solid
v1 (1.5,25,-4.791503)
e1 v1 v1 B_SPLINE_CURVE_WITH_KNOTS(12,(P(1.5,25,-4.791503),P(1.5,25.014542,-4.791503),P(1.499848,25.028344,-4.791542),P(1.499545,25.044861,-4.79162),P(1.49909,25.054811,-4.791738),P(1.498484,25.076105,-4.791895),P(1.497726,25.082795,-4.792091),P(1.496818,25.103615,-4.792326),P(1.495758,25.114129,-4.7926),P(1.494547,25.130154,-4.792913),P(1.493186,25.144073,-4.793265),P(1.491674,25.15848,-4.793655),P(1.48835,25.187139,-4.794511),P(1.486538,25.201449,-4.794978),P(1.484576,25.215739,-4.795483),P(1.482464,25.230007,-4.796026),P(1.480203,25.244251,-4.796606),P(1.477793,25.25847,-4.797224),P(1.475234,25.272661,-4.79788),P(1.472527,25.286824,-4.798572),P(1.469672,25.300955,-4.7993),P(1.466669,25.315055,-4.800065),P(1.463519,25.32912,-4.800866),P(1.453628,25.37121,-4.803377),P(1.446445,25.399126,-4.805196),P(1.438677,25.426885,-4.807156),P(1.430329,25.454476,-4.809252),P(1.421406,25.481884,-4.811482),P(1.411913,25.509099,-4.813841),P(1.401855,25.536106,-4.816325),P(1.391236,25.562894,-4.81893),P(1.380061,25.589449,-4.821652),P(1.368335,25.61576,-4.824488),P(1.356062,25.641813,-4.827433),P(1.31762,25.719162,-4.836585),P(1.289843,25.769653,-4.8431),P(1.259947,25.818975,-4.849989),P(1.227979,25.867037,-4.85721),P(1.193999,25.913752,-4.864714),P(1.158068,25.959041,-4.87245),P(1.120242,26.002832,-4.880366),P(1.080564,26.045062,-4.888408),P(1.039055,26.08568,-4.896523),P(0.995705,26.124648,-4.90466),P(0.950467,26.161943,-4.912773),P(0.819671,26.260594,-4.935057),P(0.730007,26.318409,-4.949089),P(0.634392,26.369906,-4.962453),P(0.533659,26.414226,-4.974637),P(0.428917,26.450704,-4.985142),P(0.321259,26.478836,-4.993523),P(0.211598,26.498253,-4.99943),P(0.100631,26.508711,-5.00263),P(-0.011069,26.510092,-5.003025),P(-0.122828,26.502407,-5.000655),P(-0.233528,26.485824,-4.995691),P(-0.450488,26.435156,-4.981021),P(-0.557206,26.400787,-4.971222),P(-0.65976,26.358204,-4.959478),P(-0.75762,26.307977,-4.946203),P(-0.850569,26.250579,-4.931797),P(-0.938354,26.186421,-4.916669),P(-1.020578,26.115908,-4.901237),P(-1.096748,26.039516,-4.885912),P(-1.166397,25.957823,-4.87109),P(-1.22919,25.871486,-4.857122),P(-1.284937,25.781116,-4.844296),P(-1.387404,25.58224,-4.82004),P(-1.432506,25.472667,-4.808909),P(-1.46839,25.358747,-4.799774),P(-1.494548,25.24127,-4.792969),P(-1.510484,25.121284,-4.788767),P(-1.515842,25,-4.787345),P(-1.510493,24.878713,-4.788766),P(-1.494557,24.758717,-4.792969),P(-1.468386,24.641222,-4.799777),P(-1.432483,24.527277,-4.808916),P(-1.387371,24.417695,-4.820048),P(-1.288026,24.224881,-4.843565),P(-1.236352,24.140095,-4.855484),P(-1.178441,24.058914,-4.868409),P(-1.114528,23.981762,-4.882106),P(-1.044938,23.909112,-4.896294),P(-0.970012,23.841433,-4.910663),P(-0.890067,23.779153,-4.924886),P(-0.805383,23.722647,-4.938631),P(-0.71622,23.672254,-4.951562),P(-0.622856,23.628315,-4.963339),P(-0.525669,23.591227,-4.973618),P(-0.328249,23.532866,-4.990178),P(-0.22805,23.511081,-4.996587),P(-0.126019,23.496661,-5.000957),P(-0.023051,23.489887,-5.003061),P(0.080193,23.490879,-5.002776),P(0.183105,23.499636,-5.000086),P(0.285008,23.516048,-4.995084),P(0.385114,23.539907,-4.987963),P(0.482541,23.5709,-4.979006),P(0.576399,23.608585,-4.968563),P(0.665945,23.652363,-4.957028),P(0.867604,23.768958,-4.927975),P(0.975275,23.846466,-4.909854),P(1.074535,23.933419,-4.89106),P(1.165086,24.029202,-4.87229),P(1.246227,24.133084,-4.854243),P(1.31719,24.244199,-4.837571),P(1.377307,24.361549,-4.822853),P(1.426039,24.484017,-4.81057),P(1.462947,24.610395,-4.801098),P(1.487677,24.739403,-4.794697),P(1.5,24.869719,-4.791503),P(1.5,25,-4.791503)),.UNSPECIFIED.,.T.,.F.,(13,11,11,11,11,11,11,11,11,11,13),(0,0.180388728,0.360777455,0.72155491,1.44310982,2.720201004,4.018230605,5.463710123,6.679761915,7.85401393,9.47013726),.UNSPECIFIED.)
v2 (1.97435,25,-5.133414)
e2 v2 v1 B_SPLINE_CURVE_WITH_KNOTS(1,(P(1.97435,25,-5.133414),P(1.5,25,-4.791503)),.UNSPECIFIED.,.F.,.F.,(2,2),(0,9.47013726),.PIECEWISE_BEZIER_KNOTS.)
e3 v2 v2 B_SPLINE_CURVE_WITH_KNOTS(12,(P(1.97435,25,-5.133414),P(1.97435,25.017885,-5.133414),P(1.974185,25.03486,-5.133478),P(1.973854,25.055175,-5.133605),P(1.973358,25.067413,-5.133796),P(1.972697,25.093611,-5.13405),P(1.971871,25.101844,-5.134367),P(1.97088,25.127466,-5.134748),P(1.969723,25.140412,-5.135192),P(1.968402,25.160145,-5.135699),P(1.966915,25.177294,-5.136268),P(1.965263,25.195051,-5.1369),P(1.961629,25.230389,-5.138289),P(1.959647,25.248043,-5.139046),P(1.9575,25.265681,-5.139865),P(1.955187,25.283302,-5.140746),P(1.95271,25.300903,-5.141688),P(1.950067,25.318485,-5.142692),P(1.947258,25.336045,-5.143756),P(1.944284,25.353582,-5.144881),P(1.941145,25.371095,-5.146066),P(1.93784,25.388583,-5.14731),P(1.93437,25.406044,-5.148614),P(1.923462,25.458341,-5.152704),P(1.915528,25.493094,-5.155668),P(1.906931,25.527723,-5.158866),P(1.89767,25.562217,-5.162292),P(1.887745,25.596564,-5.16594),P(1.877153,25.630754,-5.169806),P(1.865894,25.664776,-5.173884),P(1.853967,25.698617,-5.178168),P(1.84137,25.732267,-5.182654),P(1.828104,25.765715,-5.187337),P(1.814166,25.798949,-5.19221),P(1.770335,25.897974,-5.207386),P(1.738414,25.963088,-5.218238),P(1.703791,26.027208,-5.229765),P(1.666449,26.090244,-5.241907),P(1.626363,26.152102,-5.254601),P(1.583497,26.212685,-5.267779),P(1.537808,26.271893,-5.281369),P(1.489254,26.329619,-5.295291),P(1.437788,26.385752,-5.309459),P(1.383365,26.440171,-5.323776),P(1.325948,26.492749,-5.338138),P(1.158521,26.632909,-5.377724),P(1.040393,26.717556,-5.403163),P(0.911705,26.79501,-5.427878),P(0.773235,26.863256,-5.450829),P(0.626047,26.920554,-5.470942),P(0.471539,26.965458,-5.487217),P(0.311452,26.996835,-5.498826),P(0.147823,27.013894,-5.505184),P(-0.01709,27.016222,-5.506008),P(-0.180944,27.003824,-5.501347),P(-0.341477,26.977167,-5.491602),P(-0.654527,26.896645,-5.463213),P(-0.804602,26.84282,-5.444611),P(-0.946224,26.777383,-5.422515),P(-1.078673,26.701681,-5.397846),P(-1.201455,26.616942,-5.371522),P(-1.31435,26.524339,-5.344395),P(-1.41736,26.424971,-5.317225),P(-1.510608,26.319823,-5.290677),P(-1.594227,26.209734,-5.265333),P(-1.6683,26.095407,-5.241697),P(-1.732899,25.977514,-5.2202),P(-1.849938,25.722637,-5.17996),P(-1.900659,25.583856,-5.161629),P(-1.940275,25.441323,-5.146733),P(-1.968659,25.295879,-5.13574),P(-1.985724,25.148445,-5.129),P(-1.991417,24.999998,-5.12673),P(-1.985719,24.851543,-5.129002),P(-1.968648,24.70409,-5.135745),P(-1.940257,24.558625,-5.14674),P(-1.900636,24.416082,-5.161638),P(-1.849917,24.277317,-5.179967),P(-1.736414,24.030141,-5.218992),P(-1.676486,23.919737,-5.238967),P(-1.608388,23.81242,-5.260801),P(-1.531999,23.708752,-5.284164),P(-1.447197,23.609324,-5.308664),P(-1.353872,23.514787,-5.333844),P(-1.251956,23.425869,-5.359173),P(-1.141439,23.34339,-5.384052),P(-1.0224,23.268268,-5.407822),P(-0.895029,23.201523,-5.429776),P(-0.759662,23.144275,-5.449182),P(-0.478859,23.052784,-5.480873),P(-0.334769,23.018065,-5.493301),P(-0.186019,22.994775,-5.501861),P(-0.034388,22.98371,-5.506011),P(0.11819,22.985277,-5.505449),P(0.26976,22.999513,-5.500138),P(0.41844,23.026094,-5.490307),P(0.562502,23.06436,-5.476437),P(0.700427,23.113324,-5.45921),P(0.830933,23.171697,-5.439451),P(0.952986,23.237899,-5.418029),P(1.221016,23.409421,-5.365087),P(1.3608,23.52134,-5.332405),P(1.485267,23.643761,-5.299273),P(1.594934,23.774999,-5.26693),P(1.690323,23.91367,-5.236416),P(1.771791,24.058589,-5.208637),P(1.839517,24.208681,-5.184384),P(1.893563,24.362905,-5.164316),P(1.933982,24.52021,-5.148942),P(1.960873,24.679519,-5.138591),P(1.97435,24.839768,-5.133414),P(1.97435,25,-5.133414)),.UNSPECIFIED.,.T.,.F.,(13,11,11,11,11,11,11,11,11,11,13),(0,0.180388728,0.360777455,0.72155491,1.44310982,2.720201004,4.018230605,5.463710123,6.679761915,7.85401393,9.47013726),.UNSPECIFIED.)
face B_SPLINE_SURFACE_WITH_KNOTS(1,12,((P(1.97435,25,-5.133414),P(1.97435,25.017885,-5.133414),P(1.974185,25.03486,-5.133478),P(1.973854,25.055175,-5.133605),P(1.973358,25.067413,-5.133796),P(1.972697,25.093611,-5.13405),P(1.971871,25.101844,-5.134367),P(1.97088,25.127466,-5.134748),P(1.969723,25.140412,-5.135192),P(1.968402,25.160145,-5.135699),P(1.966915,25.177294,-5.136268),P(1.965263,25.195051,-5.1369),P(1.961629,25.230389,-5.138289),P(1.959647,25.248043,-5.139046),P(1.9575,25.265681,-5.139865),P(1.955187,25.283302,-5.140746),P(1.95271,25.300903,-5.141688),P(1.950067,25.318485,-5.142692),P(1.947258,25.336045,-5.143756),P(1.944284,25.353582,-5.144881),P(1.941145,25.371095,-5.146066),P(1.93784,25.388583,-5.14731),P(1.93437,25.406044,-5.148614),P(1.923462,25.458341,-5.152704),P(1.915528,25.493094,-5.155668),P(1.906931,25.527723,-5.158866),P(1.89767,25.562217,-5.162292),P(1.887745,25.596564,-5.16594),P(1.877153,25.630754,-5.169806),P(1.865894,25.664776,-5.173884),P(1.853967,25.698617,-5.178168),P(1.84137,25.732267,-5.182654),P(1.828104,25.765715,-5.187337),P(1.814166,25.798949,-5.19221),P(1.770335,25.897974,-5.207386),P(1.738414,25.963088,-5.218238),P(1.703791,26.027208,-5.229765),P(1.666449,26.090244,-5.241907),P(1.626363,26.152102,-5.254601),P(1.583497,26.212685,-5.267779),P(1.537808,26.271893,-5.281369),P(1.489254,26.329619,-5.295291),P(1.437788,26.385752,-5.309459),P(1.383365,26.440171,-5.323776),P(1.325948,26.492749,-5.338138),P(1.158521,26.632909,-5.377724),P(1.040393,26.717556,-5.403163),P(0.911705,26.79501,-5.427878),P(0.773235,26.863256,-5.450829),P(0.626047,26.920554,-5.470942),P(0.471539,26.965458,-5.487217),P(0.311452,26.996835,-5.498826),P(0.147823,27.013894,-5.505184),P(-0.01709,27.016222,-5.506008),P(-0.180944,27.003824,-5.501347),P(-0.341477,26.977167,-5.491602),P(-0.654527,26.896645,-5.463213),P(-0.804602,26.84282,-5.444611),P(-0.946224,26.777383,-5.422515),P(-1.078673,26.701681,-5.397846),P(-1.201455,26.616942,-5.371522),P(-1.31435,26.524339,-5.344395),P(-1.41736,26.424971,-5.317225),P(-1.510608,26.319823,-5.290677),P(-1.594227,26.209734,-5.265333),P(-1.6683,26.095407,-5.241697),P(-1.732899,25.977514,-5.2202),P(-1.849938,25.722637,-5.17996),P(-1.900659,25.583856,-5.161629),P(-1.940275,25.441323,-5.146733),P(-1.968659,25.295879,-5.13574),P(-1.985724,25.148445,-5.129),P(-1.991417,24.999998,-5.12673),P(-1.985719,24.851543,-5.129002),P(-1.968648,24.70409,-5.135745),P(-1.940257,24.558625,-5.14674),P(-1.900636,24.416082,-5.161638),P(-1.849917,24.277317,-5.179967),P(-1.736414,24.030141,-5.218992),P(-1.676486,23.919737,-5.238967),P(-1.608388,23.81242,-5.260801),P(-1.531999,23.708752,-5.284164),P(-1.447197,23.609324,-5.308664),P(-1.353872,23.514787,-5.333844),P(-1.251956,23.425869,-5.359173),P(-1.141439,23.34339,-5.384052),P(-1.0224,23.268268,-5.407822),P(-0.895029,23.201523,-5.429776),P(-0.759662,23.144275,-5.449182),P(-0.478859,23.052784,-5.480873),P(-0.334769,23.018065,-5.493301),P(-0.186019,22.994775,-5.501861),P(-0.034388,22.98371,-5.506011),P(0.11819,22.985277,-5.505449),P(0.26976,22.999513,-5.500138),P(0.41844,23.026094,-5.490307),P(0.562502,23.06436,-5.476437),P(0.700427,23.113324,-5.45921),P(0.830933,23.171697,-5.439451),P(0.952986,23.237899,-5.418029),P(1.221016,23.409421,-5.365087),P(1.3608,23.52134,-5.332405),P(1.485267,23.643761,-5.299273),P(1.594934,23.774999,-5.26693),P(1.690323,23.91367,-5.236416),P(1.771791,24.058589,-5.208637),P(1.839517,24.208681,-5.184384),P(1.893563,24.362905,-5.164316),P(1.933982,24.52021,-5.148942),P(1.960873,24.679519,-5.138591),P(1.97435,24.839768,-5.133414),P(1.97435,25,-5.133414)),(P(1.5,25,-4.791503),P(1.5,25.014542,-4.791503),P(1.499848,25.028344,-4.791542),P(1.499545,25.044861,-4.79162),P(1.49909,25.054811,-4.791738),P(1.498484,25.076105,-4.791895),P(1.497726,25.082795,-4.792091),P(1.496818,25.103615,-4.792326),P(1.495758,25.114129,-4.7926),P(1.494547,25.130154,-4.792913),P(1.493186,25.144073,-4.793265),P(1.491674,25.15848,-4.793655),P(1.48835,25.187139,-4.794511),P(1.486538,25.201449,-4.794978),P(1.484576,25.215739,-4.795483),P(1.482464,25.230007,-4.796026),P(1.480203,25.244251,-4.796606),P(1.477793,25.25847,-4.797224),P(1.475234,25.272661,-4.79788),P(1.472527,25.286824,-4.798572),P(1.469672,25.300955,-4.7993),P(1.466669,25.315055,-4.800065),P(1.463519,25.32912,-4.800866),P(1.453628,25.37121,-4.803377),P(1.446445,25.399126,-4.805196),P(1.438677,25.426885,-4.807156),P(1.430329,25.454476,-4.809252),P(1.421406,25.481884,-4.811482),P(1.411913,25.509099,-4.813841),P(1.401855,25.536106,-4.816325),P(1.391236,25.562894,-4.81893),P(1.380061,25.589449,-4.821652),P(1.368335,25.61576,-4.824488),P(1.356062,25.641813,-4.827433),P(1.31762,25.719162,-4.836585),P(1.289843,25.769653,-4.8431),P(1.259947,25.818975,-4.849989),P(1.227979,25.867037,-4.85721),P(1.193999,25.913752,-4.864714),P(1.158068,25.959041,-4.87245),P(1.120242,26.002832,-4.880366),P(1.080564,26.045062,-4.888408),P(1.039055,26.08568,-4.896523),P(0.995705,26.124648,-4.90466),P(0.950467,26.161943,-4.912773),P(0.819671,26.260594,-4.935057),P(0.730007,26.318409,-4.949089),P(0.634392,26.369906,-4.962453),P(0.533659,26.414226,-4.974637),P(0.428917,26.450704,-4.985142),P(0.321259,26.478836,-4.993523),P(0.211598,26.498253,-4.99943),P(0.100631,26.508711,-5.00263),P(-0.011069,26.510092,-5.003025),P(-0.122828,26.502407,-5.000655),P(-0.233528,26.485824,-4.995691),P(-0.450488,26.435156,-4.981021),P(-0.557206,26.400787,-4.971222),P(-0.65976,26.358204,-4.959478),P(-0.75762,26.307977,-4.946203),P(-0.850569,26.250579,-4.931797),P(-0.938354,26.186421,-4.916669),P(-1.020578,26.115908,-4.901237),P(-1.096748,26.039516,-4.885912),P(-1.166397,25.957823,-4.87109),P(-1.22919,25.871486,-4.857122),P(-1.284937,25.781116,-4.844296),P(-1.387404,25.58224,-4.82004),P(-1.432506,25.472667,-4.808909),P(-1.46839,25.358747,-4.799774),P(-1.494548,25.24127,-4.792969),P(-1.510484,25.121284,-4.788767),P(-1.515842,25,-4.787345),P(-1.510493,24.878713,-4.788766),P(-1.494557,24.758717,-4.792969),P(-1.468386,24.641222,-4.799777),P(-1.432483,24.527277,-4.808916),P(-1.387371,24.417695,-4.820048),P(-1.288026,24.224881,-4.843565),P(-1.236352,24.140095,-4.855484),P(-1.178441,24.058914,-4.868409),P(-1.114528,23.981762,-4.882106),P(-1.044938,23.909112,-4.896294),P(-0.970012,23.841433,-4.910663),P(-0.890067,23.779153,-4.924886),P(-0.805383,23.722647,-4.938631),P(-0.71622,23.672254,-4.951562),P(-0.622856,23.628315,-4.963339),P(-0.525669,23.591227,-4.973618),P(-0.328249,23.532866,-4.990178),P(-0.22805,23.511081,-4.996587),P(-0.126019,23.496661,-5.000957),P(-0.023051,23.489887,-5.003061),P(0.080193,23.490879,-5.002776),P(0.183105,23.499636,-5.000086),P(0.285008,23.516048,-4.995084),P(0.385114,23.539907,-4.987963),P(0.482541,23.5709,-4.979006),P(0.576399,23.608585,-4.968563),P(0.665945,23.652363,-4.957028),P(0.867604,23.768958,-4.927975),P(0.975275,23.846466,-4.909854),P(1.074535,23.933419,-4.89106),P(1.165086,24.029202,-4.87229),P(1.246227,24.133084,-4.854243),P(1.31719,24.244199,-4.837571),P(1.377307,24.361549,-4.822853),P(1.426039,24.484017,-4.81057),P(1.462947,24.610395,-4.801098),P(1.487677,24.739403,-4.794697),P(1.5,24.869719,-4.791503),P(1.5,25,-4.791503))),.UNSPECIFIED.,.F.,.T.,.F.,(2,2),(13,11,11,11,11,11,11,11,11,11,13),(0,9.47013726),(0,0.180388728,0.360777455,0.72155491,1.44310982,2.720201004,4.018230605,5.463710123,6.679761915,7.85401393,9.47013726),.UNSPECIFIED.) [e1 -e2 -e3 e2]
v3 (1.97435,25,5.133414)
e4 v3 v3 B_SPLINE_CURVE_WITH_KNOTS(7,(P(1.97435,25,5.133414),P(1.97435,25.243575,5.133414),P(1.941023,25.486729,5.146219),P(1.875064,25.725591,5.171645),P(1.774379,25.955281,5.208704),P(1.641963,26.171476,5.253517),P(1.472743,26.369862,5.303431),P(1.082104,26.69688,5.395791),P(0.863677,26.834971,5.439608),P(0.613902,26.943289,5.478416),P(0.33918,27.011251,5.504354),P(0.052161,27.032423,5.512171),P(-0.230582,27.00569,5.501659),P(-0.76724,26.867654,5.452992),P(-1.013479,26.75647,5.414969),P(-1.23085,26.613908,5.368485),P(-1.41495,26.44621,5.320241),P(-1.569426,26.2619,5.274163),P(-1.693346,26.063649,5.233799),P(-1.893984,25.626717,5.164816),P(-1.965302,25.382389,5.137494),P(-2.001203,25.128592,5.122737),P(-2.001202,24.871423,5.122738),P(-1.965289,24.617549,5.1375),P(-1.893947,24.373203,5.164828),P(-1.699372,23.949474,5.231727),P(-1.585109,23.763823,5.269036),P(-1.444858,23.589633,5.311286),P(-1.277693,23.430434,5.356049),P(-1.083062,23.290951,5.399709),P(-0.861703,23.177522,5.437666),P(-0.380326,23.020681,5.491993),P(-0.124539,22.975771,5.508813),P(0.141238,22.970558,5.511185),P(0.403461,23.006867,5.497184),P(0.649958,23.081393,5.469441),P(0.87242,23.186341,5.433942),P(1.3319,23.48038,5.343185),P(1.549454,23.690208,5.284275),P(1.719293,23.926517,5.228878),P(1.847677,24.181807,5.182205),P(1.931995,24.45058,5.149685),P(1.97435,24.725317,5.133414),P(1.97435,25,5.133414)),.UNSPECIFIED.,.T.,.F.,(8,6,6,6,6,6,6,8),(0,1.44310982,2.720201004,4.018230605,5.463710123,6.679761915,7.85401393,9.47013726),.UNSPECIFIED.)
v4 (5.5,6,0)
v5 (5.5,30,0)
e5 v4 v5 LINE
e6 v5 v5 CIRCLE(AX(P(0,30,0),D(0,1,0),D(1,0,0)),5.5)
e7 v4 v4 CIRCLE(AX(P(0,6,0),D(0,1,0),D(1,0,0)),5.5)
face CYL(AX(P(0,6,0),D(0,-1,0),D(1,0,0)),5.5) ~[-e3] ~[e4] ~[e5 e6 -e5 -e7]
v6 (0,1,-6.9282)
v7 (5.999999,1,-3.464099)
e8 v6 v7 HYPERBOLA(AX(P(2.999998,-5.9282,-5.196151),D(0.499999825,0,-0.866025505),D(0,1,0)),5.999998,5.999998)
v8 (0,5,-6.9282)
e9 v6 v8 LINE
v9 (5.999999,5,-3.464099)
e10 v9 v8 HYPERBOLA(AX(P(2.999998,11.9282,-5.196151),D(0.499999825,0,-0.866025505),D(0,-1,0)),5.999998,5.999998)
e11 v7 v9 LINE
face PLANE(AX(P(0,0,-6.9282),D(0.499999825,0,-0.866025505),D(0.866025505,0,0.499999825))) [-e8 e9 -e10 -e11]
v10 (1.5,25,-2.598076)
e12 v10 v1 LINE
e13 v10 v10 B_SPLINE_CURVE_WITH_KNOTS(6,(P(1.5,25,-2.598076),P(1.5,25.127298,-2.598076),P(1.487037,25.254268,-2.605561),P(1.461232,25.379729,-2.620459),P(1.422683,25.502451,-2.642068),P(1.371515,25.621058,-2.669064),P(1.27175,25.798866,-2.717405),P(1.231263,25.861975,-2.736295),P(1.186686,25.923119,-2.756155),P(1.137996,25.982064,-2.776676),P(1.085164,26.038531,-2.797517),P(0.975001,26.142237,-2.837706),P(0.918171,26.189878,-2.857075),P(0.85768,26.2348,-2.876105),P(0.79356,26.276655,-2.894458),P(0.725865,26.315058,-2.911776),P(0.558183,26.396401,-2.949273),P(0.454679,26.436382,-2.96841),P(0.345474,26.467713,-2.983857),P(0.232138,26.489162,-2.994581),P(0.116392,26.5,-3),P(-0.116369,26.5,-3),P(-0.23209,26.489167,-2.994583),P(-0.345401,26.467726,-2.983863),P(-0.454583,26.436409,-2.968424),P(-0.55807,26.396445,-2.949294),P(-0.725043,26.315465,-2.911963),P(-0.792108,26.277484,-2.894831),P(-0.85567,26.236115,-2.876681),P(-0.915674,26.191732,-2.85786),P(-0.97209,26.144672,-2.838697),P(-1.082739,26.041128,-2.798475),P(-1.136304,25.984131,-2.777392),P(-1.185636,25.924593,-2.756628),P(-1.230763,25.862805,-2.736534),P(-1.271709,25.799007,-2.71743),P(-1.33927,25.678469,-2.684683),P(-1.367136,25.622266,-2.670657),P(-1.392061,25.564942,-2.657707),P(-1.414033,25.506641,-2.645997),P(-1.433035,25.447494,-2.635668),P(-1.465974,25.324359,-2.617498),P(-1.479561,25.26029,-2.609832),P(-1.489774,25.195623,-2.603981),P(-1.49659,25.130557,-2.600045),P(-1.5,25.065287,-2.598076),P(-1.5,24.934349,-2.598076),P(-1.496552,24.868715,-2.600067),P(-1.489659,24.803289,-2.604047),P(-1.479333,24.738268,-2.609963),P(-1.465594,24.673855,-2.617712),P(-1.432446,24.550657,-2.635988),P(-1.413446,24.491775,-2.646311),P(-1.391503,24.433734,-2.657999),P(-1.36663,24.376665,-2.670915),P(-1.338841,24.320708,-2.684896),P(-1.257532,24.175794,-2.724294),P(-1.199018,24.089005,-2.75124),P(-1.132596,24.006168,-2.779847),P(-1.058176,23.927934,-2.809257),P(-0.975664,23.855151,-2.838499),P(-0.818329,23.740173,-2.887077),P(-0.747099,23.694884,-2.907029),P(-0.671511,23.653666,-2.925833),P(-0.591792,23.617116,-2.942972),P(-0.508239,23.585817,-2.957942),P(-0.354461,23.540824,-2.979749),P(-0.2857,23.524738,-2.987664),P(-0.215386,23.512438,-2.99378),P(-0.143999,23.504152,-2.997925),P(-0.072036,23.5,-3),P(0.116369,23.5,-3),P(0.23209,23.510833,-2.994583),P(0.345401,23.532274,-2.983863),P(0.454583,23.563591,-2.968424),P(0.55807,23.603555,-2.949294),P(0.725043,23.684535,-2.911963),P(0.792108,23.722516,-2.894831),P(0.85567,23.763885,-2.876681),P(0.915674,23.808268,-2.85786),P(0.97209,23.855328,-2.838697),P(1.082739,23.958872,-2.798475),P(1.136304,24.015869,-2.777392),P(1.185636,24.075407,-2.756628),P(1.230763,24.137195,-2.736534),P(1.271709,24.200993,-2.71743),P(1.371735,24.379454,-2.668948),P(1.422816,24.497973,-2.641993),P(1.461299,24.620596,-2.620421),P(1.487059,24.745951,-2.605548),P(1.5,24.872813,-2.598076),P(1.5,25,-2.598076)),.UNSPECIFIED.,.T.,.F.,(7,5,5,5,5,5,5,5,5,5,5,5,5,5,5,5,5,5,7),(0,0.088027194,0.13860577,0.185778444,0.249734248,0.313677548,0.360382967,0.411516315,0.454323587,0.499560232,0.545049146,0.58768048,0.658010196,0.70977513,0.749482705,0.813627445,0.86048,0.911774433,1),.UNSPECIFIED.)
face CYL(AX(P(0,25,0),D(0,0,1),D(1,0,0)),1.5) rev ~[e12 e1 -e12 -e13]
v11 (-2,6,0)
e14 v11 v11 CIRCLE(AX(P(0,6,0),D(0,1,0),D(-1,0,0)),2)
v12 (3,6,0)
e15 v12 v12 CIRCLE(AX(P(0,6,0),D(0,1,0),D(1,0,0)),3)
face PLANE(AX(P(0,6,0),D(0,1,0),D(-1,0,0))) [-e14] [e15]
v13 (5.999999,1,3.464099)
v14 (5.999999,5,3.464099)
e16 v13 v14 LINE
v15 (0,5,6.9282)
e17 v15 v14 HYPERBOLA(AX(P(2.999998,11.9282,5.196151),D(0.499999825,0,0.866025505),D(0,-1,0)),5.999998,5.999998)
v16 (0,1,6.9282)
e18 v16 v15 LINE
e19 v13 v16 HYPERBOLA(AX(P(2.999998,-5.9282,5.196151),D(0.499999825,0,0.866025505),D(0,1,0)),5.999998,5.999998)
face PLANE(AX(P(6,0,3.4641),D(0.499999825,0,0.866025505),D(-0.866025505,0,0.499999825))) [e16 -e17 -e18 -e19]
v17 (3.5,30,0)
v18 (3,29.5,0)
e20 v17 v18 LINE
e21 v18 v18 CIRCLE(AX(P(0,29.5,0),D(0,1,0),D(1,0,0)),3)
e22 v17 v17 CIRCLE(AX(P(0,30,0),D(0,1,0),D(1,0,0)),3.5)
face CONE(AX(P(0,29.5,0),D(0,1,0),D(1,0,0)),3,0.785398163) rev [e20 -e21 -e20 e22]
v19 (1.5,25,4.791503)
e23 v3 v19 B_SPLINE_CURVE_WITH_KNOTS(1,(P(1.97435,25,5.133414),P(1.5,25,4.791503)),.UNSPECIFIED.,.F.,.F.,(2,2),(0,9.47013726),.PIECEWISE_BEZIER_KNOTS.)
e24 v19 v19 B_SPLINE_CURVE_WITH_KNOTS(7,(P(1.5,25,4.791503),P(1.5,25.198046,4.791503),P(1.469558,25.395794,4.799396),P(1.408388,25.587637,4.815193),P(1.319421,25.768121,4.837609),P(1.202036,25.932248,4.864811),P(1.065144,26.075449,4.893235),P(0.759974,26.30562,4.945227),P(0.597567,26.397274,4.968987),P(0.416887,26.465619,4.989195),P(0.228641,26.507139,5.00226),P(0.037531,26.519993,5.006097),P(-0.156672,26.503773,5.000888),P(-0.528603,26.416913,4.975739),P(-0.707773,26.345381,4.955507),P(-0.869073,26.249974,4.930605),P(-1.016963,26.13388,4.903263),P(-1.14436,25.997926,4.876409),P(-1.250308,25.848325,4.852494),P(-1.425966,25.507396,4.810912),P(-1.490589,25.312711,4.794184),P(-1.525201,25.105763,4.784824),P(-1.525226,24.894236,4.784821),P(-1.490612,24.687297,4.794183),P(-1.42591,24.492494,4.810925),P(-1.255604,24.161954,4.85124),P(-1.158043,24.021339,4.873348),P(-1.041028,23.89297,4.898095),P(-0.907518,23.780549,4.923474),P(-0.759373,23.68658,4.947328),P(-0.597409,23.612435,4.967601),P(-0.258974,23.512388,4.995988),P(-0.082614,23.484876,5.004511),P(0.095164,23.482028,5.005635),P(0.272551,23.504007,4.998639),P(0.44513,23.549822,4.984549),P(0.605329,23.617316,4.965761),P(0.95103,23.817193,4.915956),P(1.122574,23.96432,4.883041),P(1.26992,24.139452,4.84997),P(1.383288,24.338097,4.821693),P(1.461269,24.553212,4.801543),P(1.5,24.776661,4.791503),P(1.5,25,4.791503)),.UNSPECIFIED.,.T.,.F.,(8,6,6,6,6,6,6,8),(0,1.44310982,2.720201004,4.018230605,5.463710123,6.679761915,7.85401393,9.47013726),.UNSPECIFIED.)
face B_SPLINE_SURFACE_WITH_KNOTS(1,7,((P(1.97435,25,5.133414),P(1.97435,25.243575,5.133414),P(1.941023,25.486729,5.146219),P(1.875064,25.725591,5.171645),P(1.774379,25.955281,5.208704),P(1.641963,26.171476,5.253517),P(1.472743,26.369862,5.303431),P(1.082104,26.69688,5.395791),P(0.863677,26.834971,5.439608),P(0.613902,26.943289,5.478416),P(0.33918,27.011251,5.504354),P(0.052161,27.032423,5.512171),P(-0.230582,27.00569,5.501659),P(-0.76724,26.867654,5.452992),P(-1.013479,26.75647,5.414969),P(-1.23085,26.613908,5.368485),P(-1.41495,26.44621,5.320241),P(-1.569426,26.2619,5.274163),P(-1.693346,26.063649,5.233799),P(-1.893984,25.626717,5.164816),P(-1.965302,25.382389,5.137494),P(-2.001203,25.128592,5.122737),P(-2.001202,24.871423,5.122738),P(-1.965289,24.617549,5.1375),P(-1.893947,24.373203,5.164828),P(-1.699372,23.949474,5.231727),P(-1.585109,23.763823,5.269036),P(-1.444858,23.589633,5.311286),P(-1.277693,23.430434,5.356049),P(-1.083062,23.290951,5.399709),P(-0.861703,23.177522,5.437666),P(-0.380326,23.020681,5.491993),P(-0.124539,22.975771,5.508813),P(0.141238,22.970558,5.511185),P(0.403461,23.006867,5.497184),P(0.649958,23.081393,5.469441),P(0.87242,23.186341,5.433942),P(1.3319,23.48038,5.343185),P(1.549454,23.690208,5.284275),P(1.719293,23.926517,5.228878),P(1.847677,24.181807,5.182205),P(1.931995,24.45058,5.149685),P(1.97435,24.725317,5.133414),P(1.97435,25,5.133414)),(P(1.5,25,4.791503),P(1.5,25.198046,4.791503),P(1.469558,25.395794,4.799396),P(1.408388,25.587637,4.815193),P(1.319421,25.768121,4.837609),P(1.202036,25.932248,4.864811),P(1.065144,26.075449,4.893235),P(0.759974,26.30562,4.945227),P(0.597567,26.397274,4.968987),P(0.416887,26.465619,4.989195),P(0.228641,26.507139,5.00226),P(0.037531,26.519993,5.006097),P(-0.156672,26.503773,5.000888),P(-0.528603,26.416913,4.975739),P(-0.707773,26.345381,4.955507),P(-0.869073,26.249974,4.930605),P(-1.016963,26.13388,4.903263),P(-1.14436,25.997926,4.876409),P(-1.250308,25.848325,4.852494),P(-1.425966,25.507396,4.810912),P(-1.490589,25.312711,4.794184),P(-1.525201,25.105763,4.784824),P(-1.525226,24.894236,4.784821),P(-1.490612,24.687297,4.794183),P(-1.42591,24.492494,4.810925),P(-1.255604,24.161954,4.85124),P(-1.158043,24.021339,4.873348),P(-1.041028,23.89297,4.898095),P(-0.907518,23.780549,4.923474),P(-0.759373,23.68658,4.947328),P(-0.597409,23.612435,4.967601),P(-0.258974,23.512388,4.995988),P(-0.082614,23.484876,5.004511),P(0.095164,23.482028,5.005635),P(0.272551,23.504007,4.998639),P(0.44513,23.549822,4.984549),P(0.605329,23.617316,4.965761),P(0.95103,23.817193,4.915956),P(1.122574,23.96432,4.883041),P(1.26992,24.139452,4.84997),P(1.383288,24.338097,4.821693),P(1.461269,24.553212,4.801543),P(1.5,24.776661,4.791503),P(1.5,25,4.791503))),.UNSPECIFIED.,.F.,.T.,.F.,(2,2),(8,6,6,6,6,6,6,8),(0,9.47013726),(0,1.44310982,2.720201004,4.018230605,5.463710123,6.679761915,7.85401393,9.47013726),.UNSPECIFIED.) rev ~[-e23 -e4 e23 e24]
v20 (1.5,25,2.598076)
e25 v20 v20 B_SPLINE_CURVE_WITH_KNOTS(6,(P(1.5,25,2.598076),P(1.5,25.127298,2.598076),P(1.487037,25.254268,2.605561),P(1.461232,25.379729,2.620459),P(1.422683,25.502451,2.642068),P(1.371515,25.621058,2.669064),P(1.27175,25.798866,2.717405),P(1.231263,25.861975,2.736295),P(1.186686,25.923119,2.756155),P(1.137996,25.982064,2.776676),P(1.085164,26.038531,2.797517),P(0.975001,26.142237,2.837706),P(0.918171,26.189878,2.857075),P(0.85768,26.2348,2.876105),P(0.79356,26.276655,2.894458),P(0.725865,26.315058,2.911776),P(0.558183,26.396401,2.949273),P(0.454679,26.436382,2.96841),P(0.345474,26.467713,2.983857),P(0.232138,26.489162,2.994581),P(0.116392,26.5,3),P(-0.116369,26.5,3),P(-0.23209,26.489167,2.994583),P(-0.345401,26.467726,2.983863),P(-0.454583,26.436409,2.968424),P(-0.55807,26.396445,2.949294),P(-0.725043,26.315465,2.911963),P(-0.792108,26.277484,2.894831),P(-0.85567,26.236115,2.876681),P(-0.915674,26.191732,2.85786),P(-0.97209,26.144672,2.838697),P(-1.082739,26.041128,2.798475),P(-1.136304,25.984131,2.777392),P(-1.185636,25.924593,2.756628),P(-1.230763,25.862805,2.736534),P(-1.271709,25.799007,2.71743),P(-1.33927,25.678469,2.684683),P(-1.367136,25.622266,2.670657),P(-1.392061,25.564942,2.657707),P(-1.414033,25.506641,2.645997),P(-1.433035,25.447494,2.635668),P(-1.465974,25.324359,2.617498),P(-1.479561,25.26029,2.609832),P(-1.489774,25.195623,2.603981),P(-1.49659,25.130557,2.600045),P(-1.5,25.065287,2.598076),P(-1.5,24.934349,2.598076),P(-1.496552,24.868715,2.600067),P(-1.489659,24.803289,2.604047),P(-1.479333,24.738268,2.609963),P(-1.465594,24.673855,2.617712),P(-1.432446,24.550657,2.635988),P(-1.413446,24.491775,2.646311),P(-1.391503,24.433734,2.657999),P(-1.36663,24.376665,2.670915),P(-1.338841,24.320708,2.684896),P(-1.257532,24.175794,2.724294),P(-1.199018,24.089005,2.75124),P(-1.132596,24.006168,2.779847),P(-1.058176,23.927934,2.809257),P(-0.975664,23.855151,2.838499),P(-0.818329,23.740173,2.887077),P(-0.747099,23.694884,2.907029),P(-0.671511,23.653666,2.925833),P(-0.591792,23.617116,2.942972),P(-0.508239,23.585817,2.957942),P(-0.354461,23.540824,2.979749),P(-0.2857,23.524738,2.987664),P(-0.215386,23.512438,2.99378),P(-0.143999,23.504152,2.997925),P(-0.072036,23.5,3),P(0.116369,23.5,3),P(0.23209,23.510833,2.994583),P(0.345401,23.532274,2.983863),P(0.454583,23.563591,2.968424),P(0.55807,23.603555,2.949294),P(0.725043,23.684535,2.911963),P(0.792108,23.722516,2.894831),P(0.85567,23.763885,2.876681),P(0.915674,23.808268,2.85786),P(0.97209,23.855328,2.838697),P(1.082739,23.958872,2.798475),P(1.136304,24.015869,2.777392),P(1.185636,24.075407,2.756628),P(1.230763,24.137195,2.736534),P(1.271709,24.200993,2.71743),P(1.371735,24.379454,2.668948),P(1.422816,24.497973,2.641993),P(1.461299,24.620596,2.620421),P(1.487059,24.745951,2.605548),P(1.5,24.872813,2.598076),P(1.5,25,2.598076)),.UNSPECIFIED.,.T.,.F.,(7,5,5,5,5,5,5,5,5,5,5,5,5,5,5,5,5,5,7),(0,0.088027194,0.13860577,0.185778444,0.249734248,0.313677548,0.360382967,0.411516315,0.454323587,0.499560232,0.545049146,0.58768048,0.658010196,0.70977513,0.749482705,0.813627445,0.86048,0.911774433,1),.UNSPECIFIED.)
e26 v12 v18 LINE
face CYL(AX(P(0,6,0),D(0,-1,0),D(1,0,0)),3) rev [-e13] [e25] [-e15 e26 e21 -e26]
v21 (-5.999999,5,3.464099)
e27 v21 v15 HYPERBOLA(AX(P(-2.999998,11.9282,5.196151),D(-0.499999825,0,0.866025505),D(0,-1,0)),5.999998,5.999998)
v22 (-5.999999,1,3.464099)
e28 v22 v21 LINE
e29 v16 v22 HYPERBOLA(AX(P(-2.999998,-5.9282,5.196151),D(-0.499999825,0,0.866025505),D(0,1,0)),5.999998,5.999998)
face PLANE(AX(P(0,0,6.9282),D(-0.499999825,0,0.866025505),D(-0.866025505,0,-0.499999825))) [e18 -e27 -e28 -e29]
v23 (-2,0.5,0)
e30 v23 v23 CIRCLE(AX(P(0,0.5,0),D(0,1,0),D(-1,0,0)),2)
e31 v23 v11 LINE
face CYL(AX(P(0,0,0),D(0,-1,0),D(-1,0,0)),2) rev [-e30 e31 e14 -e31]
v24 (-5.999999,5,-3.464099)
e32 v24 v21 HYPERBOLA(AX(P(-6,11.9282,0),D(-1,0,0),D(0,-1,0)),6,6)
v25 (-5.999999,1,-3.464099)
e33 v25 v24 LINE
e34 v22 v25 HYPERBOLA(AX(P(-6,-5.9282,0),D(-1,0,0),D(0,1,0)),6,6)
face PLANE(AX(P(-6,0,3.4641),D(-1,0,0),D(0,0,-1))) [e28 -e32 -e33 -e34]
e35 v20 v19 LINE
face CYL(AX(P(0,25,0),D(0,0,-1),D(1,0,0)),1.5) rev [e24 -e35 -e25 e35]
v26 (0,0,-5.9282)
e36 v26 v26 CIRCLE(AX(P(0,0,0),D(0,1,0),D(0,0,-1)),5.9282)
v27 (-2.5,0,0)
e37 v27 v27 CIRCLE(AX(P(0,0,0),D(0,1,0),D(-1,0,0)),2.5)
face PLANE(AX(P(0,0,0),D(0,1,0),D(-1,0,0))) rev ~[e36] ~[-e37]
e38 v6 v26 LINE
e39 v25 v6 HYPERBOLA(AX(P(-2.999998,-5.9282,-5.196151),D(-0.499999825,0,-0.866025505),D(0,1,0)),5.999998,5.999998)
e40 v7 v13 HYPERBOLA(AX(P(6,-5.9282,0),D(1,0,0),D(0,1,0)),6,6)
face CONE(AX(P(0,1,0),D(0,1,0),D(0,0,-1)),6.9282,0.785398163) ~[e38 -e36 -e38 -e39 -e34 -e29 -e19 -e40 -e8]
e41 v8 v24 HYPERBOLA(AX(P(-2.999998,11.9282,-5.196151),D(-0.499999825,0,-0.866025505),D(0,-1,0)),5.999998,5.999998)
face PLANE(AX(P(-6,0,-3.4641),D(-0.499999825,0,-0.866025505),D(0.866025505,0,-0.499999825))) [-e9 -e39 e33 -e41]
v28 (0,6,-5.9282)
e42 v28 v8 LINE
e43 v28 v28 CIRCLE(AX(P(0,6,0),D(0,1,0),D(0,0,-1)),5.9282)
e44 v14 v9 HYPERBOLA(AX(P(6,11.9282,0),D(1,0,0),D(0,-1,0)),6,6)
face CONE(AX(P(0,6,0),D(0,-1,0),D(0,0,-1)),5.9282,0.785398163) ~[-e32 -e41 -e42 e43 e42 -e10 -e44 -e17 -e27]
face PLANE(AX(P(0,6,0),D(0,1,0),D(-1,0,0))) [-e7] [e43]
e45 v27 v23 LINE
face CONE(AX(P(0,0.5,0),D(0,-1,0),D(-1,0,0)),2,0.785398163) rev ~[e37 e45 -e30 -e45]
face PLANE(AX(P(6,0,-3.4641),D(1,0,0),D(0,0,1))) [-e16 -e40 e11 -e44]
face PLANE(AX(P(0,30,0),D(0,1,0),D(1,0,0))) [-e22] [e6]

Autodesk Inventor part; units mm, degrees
ref_plane "YZ Plane" through (0, 0, 0) normal (1, 0, 0) x (0, 1, 0)
ref_plane "XZ Plane" through (0, 0, 0) normal (0, 1, 0) x (-1, 0, 0)
ref_plane "XY Plane" through (0, 0, 0) normal (0, 0, 1) x (1, 0, 0)
sketch "Sketch1" plane through (0, 0, 0) normal (0, 1, 0) x (-1, 0, 0)
  line L0 (6, -3.4641) -> (0, -6.9282)
  line L1 (0, -6.9282) -> (-6, -3.4641)
  line L2 (-6, -3.4641) -> (-6, 3.4641)
  line L3 (-6, 3.4641) -> (0, 6.9282)
  line L4 (0, 6.9282) -> (6, 3.4641)
  line L5 (6, 3.4641) -> (6, -3.4641)
  circle A0 centre (0, 0) radius 2
  dimension "d0" = 6
  dimension "d1" = 4
extrude "Extrusion1" add sketch "Sketch1" along normal blind 6
sketch "Sketch2" plane through (0, 6, 0) normal (0, 1, 0) x (1, 0, 0)
  circle A0 centre (0, 0) radius 3
  circle A1 centre (0, 0) radius 5.5
  dimension "d4" = 6
  dimension "d5" = 11
extrude "Extrusion2" add sketch "Sketch2" along normal blind 24
sketch "Sketch3" plane through (0, 0, 0) normal (0, 0, 1) x (1, 0, 0)
  circle A0 centre (0, 25) radius 1.5
  line L0 (-5.3, 30) -> (5.3, 30) projected
  point P0 (0, 0)
  dimension "d16" = 3
extrude "Extrusion3" cut sketch "Sketch3" along normal mid plane 24
chamfer "Chamfer" distance 0.5 angle 45 4 edges at (2, 0, 0) (-3, 30, 0) (-1.5, 25.0054, -5.2915) (-1.5, 25.0054, 5.2915)
sketch "Sketch4" plane through (0, 0, 0) normal (1, 0, 0) x (0, 1, 0)
  line L0 (0, -3.4641) -> (0, -6.9282) projected
  line L1 (0, -6.9282) -> (0, -5.9282)
  line L2 (0, -6.9282) -> (1, -6.9282)
  line L3 (1, -6.9282) -> (0, -5.9282)
  line L4 (-6, 0) -> (36, 0) projected
  line L5 (0, -6.9282) -> (6, -6.9282) projected
  line L6 (6, -6.9282) -> (5, -6.9282)
  line L7 (6, -6.9282) -> (6, -5.9282)
  line L8 (6, -5.9282) -> (5, -6.9282)
  dimension "d31" = 1
  dimension "d32" = 1
  dimension "d36" = 1
  dimension "d37" = 1
revolve "Revolution" cut sketch "Sketch4" angle 360 about axis through (0, -10, 0) along (0, 1, 0)
thread "Thread1" size "M3x0.5" class "6H" standard "ANSI Metric M Profile" full length
thread "Thread2" size "M3x0.5" class "6H" standard "ANSI Metric M Profile" full length
thread "Thread3" size "M4x0.7" class "6H" standard "ANSI Metric M Profile" full length
properties part number "6mmID_30mmL_hex_adapter"
